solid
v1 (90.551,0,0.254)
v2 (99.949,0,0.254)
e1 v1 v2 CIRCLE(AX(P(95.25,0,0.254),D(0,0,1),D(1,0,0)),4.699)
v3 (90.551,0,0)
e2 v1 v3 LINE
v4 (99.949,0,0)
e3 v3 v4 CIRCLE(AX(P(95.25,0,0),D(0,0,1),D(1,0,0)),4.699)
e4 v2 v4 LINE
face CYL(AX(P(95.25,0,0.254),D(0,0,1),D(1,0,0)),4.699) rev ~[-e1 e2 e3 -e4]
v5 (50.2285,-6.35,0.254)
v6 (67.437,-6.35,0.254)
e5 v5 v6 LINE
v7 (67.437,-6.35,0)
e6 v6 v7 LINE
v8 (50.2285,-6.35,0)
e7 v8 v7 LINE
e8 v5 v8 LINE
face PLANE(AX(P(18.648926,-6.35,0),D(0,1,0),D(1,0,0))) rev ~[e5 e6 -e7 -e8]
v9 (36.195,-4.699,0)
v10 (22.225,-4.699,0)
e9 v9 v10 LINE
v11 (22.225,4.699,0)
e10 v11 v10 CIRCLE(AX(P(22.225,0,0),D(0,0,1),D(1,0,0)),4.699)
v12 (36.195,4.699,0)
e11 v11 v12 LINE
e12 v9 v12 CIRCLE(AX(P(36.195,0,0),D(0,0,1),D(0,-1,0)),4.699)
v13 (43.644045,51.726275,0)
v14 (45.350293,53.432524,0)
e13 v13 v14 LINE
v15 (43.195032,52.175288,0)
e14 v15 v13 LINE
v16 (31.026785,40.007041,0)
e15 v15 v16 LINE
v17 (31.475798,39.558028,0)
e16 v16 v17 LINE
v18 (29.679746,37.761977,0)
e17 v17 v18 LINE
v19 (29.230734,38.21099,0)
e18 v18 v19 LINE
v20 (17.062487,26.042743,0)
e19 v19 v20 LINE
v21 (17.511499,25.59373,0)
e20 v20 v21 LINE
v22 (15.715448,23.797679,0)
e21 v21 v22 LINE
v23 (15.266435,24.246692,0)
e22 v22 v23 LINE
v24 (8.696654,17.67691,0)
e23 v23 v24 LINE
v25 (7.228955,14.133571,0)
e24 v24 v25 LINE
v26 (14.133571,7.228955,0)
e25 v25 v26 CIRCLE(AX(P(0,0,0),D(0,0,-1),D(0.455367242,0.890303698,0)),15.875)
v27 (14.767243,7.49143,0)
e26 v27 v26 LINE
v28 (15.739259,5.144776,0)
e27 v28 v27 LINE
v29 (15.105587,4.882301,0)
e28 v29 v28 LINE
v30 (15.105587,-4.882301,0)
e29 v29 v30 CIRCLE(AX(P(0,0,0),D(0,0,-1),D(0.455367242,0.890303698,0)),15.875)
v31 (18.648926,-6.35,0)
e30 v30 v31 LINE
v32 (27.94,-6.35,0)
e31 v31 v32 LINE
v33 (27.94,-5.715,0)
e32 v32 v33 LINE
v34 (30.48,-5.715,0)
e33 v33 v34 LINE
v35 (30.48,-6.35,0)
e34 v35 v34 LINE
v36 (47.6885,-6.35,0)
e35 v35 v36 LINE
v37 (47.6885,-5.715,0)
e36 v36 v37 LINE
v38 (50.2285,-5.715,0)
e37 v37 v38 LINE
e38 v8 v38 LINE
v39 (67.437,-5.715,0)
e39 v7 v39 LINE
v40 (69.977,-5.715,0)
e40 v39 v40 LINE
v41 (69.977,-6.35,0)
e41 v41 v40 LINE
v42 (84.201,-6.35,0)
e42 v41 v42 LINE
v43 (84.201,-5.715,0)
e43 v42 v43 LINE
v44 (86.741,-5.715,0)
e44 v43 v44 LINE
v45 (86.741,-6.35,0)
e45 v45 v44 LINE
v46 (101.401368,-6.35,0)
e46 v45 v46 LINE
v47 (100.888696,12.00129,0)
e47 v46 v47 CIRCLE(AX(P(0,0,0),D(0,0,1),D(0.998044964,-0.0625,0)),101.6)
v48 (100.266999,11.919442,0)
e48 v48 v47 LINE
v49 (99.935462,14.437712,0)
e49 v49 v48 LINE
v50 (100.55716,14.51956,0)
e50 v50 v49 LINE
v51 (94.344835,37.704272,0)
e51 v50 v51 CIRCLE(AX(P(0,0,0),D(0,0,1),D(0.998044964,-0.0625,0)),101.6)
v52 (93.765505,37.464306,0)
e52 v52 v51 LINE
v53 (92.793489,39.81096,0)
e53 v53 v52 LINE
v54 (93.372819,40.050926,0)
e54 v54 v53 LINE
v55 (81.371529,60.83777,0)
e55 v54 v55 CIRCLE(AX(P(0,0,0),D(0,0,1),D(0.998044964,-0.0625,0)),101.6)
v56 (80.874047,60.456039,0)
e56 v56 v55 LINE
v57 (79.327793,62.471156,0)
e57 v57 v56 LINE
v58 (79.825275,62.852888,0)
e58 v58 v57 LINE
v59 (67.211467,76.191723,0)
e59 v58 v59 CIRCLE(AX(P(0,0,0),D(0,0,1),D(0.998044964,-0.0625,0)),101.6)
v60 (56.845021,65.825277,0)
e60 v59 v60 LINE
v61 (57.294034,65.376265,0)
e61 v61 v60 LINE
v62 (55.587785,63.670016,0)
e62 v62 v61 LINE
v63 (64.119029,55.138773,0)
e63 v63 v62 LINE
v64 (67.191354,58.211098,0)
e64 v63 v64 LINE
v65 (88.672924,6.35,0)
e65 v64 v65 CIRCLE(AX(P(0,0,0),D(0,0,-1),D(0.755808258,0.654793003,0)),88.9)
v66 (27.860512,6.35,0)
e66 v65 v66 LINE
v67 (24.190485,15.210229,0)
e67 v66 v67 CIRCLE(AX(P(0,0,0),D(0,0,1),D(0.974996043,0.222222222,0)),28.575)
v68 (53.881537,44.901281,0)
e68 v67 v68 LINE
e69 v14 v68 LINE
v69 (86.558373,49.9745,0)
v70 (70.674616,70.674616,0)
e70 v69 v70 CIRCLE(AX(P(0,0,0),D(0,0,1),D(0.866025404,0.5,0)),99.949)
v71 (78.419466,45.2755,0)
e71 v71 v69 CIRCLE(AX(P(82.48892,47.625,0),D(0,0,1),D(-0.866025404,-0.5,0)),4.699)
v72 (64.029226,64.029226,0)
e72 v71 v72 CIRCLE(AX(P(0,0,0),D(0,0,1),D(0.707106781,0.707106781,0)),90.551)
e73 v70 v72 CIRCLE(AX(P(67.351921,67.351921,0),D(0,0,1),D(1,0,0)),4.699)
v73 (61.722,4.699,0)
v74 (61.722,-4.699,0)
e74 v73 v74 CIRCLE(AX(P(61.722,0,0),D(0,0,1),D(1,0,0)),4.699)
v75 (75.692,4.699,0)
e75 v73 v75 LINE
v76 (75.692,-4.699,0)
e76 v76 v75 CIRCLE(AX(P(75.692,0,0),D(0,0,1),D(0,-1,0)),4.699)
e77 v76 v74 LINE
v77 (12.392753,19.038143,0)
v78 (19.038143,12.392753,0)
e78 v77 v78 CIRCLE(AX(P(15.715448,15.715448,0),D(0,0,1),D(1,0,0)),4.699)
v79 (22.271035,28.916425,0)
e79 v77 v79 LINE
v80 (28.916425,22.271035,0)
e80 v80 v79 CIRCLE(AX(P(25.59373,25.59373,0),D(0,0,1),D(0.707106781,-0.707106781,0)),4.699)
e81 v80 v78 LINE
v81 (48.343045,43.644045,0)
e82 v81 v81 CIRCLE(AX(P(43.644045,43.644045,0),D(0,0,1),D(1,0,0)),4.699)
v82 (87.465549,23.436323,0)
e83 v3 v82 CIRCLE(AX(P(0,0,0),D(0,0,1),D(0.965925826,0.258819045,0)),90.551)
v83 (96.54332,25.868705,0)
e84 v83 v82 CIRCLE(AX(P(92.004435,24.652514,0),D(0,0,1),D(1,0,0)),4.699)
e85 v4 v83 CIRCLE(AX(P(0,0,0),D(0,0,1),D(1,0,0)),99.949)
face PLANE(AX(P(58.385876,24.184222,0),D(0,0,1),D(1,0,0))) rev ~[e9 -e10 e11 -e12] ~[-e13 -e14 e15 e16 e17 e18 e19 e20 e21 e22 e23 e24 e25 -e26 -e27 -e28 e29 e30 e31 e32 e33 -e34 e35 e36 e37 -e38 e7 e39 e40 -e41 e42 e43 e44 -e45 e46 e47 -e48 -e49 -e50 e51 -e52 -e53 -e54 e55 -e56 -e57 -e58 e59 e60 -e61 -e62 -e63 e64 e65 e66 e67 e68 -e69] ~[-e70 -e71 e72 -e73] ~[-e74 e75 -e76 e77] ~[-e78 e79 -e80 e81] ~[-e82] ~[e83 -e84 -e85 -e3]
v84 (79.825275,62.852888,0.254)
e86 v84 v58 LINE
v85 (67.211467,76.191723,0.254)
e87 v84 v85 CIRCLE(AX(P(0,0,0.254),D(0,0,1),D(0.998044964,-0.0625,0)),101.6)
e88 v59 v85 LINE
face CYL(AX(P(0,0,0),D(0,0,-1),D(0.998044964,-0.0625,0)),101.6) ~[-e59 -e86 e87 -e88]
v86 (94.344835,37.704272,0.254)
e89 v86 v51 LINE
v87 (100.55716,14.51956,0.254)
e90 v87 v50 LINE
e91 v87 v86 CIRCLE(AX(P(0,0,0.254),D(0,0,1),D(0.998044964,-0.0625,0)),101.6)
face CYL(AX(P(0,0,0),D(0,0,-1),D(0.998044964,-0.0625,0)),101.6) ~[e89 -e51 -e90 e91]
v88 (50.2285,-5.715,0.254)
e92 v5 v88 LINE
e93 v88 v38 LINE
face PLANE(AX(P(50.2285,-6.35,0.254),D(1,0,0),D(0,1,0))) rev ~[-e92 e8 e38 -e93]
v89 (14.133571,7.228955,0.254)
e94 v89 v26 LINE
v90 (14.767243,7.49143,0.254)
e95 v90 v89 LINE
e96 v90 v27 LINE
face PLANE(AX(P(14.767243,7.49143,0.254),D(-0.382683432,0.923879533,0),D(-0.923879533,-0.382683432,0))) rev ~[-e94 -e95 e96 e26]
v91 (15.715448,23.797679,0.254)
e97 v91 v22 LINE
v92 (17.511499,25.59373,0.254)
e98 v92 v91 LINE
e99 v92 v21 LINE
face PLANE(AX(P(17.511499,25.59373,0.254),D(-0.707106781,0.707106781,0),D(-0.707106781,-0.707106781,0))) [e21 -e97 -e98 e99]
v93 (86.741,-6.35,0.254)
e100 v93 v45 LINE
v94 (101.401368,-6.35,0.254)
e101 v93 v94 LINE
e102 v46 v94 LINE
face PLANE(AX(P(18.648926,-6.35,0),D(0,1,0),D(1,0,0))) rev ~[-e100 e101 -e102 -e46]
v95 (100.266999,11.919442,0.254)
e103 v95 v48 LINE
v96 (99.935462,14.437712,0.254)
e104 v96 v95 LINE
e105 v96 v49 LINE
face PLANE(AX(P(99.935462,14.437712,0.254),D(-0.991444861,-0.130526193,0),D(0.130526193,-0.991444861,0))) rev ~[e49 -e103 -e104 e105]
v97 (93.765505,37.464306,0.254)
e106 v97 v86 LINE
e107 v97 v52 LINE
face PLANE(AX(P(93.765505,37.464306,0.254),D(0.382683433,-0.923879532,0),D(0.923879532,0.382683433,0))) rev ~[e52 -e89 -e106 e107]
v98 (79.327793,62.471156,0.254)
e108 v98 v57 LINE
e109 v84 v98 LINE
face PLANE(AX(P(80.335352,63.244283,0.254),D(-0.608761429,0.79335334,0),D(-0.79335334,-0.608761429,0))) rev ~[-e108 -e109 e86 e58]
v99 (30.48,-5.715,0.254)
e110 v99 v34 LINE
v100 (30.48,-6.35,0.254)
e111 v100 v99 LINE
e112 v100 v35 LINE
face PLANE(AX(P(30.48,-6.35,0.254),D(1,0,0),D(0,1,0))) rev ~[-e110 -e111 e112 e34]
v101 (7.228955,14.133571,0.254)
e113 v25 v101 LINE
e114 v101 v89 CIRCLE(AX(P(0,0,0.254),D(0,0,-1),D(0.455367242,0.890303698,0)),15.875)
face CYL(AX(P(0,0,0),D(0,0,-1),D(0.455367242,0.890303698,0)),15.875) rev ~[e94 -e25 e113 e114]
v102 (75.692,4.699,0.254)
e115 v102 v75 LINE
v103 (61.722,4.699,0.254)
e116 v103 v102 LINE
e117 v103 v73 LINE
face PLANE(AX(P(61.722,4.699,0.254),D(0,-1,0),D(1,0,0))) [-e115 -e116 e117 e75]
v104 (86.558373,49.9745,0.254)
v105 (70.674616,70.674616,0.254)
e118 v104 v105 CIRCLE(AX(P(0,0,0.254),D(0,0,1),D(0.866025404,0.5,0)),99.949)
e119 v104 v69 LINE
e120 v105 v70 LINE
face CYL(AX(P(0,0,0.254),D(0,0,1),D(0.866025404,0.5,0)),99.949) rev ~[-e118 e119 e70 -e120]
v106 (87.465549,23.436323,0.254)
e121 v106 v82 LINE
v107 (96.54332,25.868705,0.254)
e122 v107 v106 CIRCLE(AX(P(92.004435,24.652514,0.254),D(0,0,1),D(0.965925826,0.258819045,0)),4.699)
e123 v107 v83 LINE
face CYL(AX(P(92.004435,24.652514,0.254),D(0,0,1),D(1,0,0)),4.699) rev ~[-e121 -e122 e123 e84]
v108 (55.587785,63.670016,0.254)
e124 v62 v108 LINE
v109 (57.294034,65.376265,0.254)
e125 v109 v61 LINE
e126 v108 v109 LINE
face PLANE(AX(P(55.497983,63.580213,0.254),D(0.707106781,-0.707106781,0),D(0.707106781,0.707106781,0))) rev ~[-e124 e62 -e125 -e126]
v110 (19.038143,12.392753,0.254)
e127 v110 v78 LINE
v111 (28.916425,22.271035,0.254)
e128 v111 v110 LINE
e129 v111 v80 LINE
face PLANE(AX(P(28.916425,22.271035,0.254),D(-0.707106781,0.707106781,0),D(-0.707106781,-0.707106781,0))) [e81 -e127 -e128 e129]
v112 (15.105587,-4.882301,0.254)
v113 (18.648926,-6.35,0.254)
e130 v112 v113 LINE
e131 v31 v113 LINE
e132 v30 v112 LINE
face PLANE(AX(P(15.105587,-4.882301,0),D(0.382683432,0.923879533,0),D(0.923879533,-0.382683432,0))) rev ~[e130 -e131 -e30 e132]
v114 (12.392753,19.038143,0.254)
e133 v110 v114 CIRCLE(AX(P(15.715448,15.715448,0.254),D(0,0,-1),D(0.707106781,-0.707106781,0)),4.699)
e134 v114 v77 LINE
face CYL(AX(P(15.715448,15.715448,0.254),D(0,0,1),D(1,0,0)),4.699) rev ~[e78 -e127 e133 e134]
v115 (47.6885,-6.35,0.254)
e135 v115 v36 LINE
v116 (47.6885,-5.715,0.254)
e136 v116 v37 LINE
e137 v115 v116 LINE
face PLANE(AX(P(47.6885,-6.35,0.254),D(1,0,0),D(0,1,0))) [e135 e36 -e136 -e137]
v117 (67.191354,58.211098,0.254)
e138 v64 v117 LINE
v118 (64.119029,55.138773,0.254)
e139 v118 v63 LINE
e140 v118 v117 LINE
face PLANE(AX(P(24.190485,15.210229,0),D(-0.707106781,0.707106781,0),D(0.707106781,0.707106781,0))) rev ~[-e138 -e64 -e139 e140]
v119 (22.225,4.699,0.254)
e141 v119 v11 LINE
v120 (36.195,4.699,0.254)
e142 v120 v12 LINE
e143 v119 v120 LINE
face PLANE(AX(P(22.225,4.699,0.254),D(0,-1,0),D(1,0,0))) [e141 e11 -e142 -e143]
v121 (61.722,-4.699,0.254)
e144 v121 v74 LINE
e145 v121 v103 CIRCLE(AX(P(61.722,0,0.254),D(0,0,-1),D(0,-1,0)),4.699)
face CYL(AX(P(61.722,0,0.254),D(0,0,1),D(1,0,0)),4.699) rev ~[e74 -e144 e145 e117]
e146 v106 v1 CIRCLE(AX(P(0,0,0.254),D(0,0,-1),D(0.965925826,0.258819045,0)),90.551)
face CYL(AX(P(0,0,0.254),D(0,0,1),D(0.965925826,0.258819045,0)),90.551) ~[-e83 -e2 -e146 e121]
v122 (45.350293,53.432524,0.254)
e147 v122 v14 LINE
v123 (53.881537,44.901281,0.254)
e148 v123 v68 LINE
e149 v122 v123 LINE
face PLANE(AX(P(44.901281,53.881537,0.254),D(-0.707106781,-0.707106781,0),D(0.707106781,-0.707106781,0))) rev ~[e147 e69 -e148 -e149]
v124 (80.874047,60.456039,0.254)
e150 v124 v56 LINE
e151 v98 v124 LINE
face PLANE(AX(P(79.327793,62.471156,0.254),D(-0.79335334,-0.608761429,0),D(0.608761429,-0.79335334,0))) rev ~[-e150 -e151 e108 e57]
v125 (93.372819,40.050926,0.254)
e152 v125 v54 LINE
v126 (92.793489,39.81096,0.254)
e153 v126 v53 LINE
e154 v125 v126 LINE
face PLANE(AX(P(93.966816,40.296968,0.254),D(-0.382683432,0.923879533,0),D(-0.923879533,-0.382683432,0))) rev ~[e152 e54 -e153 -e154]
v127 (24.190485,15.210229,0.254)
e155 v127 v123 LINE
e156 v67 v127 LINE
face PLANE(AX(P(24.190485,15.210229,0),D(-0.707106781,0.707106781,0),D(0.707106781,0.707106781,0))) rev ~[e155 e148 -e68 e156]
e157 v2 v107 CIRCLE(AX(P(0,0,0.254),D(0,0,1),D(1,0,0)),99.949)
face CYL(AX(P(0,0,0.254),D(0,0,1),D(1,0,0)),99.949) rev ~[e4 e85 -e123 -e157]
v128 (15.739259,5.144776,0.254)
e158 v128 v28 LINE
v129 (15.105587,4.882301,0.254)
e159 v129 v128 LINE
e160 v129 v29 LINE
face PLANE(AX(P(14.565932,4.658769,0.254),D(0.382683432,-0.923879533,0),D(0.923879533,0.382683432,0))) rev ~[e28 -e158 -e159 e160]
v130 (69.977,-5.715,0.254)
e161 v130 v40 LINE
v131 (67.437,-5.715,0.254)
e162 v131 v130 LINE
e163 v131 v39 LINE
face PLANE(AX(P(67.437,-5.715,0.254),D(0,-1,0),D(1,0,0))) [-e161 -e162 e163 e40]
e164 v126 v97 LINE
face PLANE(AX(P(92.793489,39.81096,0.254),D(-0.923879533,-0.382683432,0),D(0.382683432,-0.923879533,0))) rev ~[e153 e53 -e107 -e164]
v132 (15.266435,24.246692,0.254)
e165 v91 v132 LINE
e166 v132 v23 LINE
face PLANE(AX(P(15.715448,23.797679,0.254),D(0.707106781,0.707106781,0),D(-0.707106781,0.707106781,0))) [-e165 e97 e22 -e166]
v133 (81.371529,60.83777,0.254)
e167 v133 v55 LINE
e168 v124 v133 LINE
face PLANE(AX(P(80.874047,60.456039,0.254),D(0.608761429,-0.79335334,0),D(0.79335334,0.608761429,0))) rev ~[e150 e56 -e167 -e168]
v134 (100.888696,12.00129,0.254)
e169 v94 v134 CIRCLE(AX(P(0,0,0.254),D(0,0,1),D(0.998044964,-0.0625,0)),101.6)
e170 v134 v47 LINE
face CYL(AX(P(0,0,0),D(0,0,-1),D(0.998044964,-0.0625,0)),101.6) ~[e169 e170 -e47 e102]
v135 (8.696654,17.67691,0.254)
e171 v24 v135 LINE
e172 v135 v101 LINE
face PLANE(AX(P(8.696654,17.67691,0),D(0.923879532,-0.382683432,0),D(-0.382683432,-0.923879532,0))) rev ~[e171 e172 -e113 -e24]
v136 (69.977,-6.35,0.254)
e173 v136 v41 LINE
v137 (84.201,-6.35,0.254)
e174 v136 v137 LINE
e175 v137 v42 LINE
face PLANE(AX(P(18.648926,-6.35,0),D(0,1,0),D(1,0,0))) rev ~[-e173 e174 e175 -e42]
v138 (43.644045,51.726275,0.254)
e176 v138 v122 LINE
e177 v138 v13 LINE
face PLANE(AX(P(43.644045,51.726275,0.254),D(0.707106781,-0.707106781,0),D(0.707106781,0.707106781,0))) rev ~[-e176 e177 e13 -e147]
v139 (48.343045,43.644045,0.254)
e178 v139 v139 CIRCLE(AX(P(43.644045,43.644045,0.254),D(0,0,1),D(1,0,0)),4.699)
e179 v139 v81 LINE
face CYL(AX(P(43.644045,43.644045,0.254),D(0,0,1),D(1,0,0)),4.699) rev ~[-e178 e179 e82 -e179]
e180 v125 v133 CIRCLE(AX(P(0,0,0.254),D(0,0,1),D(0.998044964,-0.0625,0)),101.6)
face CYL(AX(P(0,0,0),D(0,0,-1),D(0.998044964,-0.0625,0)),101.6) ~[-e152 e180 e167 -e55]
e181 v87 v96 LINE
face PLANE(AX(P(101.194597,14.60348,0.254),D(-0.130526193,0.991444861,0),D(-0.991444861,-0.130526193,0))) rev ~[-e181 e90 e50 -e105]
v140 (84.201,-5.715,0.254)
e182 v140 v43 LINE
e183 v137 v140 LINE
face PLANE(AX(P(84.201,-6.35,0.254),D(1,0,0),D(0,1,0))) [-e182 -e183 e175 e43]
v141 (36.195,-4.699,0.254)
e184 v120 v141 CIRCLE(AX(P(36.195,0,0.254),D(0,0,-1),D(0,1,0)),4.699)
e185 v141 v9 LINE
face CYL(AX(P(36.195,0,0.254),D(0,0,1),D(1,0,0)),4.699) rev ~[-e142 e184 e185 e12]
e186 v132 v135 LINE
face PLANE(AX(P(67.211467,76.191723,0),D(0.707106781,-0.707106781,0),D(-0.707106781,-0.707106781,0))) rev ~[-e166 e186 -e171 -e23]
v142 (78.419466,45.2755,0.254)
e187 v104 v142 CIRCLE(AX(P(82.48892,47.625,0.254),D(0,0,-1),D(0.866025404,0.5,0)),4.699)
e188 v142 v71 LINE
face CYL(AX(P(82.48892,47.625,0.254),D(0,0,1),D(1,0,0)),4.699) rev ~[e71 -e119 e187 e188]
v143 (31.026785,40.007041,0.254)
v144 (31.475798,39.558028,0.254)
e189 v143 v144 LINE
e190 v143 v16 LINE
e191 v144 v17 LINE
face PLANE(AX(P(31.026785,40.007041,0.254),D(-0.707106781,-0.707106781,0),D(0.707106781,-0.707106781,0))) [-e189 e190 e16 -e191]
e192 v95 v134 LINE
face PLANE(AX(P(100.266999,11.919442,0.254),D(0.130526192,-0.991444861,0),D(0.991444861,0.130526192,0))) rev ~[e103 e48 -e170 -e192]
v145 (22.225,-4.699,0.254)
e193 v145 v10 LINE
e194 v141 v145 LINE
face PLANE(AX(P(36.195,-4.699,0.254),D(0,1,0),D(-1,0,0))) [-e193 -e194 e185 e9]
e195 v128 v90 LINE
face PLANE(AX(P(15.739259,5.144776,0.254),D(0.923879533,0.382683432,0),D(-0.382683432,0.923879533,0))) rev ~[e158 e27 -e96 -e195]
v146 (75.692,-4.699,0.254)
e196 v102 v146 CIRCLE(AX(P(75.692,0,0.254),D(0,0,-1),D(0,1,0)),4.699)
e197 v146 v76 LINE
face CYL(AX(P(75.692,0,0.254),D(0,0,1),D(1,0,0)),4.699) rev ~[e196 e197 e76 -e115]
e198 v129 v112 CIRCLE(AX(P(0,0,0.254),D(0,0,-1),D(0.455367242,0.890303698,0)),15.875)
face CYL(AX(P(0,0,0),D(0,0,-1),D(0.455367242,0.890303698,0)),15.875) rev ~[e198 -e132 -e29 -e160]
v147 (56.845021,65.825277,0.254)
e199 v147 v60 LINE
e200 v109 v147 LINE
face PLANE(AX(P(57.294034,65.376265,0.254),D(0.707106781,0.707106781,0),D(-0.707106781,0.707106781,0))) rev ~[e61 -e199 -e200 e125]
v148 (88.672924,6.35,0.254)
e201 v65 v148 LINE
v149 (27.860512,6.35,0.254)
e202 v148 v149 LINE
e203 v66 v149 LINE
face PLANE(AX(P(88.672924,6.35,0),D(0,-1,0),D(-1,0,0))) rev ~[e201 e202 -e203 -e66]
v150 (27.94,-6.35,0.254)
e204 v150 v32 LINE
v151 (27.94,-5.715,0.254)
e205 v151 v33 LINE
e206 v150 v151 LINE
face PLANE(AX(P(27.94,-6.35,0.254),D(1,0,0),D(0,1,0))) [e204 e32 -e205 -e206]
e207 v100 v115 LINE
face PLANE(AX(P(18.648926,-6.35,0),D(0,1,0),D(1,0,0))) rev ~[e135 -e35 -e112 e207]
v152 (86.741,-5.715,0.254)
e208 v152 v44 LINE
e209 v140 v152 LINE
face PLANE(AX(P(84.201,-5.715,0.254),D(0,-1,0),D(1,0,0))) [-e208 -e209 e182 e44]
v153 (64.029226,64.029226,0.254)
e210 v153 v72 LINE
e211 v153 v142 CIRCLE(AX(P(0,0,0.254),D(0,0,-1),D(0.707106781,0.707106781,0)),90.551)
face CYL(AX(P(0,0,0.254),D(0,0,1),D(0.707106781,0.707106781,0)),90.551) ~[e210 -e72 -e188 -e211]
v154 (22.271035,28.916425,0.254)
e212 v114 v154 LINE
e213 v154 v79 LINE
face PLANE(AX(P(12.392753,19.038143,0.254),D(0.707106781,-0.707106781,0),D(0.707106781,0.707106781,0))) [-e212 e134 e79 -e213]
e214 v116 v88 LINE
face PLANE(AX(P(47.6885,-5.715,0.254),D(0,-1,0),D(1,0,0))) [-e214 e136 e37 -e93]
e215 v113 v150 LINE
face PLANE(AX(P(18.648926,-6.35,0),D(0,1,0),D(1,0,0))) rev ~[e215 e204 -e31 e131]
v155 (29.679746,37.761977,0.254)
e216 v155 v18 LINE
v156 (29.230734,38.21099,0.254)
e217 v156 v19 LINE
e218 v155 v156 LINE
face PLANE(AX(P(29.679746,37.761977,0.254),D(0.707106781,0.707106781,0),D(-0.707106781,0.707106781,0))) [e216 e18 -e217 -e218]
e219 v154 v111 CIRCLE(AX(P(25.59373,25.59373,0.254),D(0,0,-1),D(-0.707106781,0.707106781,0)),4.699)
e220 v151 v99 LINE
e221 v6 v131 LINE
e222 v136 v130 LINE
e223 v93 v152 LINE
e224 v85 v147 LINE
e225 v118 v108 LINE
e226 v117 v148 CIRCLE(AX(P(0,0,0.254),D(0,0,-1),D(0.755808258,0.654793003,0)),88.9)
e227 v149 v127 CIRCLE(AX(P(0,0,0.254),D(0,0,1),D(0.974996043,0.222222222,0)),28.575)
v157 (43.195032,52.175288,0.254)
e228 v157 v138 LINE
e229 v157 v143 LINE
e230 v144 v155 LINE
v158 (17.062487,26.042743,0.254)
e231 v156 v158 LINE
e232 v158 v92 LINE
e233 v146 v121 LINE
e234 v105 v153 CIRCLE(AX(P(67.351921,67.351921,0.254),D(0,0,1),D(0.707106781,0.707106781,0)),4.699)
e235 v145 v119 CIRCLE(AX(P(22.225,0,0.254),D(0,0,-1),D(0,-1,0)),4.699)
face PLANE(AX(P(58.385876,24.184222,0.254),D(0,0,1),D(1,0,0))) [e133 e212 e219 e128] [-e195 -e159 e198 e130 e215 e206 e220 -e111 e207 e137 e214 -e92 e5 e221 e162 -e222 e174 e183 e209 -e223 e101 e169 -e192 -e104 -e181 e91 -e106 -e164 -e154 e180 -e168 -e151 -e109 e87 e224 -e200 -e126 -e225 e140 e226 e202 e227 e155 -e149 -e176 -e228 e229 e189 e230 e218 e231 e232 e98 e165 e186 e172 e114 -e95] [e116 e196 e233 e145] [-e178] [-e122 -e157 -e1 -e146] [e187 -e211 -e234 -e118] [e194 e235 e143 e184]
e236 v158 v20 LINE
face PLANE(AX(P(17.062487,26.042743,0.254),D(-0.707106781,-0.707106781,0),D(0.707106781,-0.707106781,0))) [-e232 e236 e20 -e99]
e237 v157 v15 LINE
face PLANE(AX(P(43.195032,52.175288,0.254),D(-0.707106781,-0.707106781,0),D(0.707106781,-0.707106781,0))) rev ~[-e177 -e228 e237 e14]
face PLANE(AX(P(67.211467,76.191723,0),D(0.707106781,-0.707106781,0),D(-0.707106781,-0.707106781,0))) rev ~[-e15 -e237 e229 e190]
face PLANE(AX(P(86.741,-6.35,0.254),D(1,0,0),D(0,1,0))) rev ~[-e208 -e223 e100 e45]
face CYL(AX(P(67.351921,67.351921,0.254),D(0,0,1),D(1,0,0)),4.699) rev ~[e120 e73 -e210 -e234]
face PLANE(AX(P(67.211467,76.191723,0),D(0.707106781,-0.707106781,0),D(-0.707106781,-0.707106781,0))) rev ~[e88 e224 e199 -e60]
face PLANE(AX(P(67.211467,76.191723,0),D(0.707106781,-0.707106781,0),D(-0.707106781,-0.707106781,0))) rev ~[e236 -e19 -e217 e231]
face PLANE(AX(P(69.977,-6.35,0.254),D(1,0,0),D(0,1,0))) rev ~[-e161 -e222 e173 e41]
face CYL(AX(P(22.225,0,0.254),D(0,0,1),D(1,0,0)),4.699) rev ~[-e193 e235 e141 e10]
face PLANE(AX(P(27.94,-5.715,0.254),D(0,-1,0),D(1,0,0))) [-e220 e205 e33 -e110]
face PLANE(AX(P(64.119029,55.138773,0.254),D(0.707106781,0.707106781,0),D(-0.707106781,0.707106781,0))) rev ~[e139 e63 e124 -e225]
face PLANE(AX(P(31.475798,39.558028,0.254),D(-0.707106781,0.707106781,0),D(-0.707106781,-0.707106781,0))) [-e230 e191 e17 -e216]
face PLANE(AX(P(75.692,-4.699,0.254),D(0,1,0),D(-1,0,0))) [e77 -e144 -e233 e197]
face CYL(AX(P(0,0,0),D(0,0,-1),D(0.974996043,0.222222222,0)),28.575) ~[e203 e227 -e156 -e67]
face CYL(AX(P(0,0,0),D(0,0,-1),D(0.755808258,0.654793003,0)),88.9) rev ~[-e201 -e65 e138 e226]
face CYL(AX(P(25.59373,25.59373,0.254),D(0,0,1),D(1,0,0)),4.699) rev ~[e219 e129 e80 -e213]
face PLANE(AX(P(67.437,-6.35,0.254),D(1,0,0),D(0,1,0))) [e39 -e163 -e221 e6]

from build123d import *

# Parameters (mm, degrees)
BOSS_EXTRUDE1_DEPTH = 0.254
SKETCH2_R           = 4.699
CUT_EXTRUDE1_DEPTH  = 1.254
SKETCH3_W           = 2.54
SKETCH3_H           = 0.635
CUT_EXTRUDE2_DEPTH  = 1.254
CUT_EXTRUDE4_DEPTH  = 1.254
CUT_EXTRUDE5_DEPTH  = 1.254


with BuildPart() as part:
    # Sketch1 → Boss-Extrude1 (new body)
    with BuildSketch(Plane.XY):
        with BuildLine():
            Line((67.21146711, 76.191723231), (8.696654013, 17.676910134))
            Line((8.696654013, 17.676910134), (7.228954972, 14.133571205))
            ThreePointArc((7.228954972, 14.133571205), (14.666587579, 6.075099489), (15.105587123, -4.88230096))
            Line((15.105587123, -4.88230096), (18.648926052, -6.35))
            Line((18.648926052, -6.35), (101.401368334, -6.35))
            ThreePointArc((101.401368334, -6.35), (93.866160503, 38.880636728), (67.21146711, 76.191723231))
        make_face()
        with BuildLine():
            Line((88.672924278, 6.35), (27.86051193, 6.35))
            ThreePointArc((27.86051193, 6.35), (26.399857642, 10.93517908), (24.190484974, 15.210228852))
            Line((24.190484974, 15.210228852), (67.191354125, 58.211098004))
            ThreePointArc((67.191354125, 58.211098004), (82.13289044, 34.020557137), (88.672924278, 6.35))
        make_face(mode=Mode.SUBTRACT)
    extrude(amount=BOSS_EXTRUDE1_DEPTH)

    # Sketch2 → Cut-Extrude1 (cut, through all)
    with BuildSketch(Plane.XY.offset(0.254)):
        with Locations((22.225, 0)):
            Circle(SKETCH2_R)
        with Locations((36.195, 0)):
            Circle(SKETCH2_R)
        with Locations((61.722, 0)):
            Circle(SKETCH2_R)
        with Locations((75.692, 0)):
            Circle(SKETCH2_R)
        with Locations((95.25, 0)):
            Circle(SKETCH2_R)
        with Locations((15.715448212, 15.715448212)):
            Circle(SKETCH2_R)
        with Locations((25.593729945, 25.593729945)):
            Circle(SKETCH2_R)
        with Locations((43.644044748, 43.644044748)):
            Circle(SKETCH2_R)
        with Locations((53.522326482, 53.522326482)):
            Circle(SKETCH2_R)
        with Locations((92.004434954, 24.652514046)):
            Circle(SKETCH2_R)
        with Locations((82.48891971, 47.625)):
            Circle(SKETCH2_R)
        with Locations((67.351920908, 67.351920908)):
            Circle(SKETCH2_R)
    extrude(amount=-CUT_EXTRUDE1_DEPTH, mode=Mode.SUBTRACT)

    # Sketch3 → Cut-Extrude2 (cut, through all)
    with BuildSketch(Plane.XY.offset(0.254)):
        Polygon((15.266435406, 24.246691527), (17.06248663, 26.042742751), (17.511499436, 25.593729945), (15.715448212, 23.797678721), align=None)
        Polygon((44.991083167, 53.971339288), (43.195031942, 52.175288063), (43.644044748, 51.726275257), (45.440095973, 53.522326482), align=None)
        with Locations((29.21, -6.0325)):
            Rectangle(SKETCH3_W, SKETCH3_H)
        with Locations((68.707, -6.0325)):
            Rectangle(SKETCH3_W, SKETCH3_H)
        Polygon((29.230733674, 38.210989795), (31.026784898, 40.007041019), (31.475797704, 39.558028213), (29.67974648, 37.761976989), align=None)
        Polygon((56.845021246, 65.825277367), (55.048970022, 64.029226143), (55.497982828, 63.580213337), (57.294034052, 65.376264561), align=None)
        with Locations((48.9585, -6.0325)):
            Rectangle(SKETCH3_W, SKETCH3_H)
        with Locations((85.471, -6.0325)):
            Rectangle(SKETCH3_W, SKETCH3_H)
        Polygon((99.935462164, 14.437711971), (100.266998693, 11.919442024), (101.526133667, 12.085210288), (101.194597138, 14.603480236), align=None)
        Polygon((93.765504959, 37.464305742), (94.938831965, 37.950313702), (93.966816047, 40.296967714), (92.793489041, 39.810959755), align=None)
        Polygon((79.327792988, 62.471156422), (80.874047017, 60.456038938), (81.88160576, 61.229165953), (80.33535173, 63.244283437), align=None)
        Polygon((13.593916116, 7.005422516), (14.565932035, 4.658768503), (15.739259041, 5.144776462), (14.767243123, 7.491430475), align=None)
    extrude(amount=-CUT_EXTRUDE2_DEPTH, mode=Mode.SUBTRACT)

    # Sketch6 → Cut-Extrude4 (cut, through all)
    with BuildSketch(Plane.XY.offset(0.254)):
        with BuildLine():
            Line((12.392753447, 19.038142977), (22.27103518, 28.91642471))
            ThreePointArc((22.27103518, 28.91642471), (28.91642471, 28.91642471), (28.91642471, 22.27103518))
            Line((28.91642471, 22.27103518), (19.038142977, 12.392753447))
            ThreePointArc((19.038142977, 12.392753447), (12.392753447, 12.392753447), (12.392753447, 19.038142977))
        make_face()
        with BuildLine():
            Line((22.225, 4.699), (36.195, 4.699))
            ThreePointArc((36.195, 4.699), (40.894, 0), (36.195, -4.699))
            Line((36.195, -4.699), (22.225, -4.699))
            ThreePointArc((22.225, -4.699), (17.526, 0), (22.225, 4.699))
        make_face()
        with BuildLine():
            Line((61.722, 4.699), (75.692, 4.699))
            ThreePointArc((75.692, 4.699), (80.391, 0), (75.692, -4.699))
            Line((75.692, -4.699), (61.722, -4.699))
            ThreePointArc((61.722, -4.699), (57.023, 0), (61.722, 4.699))
        make_face()
        with BuildLine():
            ThreePointArc((99.949, 0), (99.093922449, 13.045962386), (96.543320412, 25.868704739))
            ThreePointArc((96.543320412, 25.868704739), (90.788244261, 29.191399504), (87.465549496, 23.436323353))
            ThreePointArc((87.465549496, 23.436323353), (89.776323642, 11.819277232), (90.551, 0))
            ThreePointArc((90.551, 0), (95.25, -4.699), (99.949, 0))
        make_face()
        with BuildLine():
            ThreePointArc((86.558373083, 49.9745), (79.294873009, 60.845096068), (70.674615673, 70.674615673))
            ThreePointArc((70.674615673, 70.674615673), (64.029226143, 70.674615673), (64.029226143, 64.029226143))
            ThreePointArc((64.029226143, 64.029226143), (71.838938317, 55.123956158), (78.419466338, 45.2755))
            ThreePointArc((78.419466338, 45.2755), (84.83841971, 43.555546628), (86.558373083, 49.9745))
        make_face()
    extrude(amount=-CUT_EXTRUDE4_DEPTH, mode=Mode.SUBTRACT)

    # Sketch5 → Cut-Extrude5 (cut, through all)
    with BuildSketch(Plane.XY.offset(0.254)):
        Polygon((53.881536726, 44.901280605), (64.119028704, 55.138772583), (55.138772583, 64.119028704), (44.901280605, 53.881536726), align=None)
    extrude(amount=-CUT_EXTRUDE5_DEPTH, mode=Mode.SUBTRACT)


solid = part.part
